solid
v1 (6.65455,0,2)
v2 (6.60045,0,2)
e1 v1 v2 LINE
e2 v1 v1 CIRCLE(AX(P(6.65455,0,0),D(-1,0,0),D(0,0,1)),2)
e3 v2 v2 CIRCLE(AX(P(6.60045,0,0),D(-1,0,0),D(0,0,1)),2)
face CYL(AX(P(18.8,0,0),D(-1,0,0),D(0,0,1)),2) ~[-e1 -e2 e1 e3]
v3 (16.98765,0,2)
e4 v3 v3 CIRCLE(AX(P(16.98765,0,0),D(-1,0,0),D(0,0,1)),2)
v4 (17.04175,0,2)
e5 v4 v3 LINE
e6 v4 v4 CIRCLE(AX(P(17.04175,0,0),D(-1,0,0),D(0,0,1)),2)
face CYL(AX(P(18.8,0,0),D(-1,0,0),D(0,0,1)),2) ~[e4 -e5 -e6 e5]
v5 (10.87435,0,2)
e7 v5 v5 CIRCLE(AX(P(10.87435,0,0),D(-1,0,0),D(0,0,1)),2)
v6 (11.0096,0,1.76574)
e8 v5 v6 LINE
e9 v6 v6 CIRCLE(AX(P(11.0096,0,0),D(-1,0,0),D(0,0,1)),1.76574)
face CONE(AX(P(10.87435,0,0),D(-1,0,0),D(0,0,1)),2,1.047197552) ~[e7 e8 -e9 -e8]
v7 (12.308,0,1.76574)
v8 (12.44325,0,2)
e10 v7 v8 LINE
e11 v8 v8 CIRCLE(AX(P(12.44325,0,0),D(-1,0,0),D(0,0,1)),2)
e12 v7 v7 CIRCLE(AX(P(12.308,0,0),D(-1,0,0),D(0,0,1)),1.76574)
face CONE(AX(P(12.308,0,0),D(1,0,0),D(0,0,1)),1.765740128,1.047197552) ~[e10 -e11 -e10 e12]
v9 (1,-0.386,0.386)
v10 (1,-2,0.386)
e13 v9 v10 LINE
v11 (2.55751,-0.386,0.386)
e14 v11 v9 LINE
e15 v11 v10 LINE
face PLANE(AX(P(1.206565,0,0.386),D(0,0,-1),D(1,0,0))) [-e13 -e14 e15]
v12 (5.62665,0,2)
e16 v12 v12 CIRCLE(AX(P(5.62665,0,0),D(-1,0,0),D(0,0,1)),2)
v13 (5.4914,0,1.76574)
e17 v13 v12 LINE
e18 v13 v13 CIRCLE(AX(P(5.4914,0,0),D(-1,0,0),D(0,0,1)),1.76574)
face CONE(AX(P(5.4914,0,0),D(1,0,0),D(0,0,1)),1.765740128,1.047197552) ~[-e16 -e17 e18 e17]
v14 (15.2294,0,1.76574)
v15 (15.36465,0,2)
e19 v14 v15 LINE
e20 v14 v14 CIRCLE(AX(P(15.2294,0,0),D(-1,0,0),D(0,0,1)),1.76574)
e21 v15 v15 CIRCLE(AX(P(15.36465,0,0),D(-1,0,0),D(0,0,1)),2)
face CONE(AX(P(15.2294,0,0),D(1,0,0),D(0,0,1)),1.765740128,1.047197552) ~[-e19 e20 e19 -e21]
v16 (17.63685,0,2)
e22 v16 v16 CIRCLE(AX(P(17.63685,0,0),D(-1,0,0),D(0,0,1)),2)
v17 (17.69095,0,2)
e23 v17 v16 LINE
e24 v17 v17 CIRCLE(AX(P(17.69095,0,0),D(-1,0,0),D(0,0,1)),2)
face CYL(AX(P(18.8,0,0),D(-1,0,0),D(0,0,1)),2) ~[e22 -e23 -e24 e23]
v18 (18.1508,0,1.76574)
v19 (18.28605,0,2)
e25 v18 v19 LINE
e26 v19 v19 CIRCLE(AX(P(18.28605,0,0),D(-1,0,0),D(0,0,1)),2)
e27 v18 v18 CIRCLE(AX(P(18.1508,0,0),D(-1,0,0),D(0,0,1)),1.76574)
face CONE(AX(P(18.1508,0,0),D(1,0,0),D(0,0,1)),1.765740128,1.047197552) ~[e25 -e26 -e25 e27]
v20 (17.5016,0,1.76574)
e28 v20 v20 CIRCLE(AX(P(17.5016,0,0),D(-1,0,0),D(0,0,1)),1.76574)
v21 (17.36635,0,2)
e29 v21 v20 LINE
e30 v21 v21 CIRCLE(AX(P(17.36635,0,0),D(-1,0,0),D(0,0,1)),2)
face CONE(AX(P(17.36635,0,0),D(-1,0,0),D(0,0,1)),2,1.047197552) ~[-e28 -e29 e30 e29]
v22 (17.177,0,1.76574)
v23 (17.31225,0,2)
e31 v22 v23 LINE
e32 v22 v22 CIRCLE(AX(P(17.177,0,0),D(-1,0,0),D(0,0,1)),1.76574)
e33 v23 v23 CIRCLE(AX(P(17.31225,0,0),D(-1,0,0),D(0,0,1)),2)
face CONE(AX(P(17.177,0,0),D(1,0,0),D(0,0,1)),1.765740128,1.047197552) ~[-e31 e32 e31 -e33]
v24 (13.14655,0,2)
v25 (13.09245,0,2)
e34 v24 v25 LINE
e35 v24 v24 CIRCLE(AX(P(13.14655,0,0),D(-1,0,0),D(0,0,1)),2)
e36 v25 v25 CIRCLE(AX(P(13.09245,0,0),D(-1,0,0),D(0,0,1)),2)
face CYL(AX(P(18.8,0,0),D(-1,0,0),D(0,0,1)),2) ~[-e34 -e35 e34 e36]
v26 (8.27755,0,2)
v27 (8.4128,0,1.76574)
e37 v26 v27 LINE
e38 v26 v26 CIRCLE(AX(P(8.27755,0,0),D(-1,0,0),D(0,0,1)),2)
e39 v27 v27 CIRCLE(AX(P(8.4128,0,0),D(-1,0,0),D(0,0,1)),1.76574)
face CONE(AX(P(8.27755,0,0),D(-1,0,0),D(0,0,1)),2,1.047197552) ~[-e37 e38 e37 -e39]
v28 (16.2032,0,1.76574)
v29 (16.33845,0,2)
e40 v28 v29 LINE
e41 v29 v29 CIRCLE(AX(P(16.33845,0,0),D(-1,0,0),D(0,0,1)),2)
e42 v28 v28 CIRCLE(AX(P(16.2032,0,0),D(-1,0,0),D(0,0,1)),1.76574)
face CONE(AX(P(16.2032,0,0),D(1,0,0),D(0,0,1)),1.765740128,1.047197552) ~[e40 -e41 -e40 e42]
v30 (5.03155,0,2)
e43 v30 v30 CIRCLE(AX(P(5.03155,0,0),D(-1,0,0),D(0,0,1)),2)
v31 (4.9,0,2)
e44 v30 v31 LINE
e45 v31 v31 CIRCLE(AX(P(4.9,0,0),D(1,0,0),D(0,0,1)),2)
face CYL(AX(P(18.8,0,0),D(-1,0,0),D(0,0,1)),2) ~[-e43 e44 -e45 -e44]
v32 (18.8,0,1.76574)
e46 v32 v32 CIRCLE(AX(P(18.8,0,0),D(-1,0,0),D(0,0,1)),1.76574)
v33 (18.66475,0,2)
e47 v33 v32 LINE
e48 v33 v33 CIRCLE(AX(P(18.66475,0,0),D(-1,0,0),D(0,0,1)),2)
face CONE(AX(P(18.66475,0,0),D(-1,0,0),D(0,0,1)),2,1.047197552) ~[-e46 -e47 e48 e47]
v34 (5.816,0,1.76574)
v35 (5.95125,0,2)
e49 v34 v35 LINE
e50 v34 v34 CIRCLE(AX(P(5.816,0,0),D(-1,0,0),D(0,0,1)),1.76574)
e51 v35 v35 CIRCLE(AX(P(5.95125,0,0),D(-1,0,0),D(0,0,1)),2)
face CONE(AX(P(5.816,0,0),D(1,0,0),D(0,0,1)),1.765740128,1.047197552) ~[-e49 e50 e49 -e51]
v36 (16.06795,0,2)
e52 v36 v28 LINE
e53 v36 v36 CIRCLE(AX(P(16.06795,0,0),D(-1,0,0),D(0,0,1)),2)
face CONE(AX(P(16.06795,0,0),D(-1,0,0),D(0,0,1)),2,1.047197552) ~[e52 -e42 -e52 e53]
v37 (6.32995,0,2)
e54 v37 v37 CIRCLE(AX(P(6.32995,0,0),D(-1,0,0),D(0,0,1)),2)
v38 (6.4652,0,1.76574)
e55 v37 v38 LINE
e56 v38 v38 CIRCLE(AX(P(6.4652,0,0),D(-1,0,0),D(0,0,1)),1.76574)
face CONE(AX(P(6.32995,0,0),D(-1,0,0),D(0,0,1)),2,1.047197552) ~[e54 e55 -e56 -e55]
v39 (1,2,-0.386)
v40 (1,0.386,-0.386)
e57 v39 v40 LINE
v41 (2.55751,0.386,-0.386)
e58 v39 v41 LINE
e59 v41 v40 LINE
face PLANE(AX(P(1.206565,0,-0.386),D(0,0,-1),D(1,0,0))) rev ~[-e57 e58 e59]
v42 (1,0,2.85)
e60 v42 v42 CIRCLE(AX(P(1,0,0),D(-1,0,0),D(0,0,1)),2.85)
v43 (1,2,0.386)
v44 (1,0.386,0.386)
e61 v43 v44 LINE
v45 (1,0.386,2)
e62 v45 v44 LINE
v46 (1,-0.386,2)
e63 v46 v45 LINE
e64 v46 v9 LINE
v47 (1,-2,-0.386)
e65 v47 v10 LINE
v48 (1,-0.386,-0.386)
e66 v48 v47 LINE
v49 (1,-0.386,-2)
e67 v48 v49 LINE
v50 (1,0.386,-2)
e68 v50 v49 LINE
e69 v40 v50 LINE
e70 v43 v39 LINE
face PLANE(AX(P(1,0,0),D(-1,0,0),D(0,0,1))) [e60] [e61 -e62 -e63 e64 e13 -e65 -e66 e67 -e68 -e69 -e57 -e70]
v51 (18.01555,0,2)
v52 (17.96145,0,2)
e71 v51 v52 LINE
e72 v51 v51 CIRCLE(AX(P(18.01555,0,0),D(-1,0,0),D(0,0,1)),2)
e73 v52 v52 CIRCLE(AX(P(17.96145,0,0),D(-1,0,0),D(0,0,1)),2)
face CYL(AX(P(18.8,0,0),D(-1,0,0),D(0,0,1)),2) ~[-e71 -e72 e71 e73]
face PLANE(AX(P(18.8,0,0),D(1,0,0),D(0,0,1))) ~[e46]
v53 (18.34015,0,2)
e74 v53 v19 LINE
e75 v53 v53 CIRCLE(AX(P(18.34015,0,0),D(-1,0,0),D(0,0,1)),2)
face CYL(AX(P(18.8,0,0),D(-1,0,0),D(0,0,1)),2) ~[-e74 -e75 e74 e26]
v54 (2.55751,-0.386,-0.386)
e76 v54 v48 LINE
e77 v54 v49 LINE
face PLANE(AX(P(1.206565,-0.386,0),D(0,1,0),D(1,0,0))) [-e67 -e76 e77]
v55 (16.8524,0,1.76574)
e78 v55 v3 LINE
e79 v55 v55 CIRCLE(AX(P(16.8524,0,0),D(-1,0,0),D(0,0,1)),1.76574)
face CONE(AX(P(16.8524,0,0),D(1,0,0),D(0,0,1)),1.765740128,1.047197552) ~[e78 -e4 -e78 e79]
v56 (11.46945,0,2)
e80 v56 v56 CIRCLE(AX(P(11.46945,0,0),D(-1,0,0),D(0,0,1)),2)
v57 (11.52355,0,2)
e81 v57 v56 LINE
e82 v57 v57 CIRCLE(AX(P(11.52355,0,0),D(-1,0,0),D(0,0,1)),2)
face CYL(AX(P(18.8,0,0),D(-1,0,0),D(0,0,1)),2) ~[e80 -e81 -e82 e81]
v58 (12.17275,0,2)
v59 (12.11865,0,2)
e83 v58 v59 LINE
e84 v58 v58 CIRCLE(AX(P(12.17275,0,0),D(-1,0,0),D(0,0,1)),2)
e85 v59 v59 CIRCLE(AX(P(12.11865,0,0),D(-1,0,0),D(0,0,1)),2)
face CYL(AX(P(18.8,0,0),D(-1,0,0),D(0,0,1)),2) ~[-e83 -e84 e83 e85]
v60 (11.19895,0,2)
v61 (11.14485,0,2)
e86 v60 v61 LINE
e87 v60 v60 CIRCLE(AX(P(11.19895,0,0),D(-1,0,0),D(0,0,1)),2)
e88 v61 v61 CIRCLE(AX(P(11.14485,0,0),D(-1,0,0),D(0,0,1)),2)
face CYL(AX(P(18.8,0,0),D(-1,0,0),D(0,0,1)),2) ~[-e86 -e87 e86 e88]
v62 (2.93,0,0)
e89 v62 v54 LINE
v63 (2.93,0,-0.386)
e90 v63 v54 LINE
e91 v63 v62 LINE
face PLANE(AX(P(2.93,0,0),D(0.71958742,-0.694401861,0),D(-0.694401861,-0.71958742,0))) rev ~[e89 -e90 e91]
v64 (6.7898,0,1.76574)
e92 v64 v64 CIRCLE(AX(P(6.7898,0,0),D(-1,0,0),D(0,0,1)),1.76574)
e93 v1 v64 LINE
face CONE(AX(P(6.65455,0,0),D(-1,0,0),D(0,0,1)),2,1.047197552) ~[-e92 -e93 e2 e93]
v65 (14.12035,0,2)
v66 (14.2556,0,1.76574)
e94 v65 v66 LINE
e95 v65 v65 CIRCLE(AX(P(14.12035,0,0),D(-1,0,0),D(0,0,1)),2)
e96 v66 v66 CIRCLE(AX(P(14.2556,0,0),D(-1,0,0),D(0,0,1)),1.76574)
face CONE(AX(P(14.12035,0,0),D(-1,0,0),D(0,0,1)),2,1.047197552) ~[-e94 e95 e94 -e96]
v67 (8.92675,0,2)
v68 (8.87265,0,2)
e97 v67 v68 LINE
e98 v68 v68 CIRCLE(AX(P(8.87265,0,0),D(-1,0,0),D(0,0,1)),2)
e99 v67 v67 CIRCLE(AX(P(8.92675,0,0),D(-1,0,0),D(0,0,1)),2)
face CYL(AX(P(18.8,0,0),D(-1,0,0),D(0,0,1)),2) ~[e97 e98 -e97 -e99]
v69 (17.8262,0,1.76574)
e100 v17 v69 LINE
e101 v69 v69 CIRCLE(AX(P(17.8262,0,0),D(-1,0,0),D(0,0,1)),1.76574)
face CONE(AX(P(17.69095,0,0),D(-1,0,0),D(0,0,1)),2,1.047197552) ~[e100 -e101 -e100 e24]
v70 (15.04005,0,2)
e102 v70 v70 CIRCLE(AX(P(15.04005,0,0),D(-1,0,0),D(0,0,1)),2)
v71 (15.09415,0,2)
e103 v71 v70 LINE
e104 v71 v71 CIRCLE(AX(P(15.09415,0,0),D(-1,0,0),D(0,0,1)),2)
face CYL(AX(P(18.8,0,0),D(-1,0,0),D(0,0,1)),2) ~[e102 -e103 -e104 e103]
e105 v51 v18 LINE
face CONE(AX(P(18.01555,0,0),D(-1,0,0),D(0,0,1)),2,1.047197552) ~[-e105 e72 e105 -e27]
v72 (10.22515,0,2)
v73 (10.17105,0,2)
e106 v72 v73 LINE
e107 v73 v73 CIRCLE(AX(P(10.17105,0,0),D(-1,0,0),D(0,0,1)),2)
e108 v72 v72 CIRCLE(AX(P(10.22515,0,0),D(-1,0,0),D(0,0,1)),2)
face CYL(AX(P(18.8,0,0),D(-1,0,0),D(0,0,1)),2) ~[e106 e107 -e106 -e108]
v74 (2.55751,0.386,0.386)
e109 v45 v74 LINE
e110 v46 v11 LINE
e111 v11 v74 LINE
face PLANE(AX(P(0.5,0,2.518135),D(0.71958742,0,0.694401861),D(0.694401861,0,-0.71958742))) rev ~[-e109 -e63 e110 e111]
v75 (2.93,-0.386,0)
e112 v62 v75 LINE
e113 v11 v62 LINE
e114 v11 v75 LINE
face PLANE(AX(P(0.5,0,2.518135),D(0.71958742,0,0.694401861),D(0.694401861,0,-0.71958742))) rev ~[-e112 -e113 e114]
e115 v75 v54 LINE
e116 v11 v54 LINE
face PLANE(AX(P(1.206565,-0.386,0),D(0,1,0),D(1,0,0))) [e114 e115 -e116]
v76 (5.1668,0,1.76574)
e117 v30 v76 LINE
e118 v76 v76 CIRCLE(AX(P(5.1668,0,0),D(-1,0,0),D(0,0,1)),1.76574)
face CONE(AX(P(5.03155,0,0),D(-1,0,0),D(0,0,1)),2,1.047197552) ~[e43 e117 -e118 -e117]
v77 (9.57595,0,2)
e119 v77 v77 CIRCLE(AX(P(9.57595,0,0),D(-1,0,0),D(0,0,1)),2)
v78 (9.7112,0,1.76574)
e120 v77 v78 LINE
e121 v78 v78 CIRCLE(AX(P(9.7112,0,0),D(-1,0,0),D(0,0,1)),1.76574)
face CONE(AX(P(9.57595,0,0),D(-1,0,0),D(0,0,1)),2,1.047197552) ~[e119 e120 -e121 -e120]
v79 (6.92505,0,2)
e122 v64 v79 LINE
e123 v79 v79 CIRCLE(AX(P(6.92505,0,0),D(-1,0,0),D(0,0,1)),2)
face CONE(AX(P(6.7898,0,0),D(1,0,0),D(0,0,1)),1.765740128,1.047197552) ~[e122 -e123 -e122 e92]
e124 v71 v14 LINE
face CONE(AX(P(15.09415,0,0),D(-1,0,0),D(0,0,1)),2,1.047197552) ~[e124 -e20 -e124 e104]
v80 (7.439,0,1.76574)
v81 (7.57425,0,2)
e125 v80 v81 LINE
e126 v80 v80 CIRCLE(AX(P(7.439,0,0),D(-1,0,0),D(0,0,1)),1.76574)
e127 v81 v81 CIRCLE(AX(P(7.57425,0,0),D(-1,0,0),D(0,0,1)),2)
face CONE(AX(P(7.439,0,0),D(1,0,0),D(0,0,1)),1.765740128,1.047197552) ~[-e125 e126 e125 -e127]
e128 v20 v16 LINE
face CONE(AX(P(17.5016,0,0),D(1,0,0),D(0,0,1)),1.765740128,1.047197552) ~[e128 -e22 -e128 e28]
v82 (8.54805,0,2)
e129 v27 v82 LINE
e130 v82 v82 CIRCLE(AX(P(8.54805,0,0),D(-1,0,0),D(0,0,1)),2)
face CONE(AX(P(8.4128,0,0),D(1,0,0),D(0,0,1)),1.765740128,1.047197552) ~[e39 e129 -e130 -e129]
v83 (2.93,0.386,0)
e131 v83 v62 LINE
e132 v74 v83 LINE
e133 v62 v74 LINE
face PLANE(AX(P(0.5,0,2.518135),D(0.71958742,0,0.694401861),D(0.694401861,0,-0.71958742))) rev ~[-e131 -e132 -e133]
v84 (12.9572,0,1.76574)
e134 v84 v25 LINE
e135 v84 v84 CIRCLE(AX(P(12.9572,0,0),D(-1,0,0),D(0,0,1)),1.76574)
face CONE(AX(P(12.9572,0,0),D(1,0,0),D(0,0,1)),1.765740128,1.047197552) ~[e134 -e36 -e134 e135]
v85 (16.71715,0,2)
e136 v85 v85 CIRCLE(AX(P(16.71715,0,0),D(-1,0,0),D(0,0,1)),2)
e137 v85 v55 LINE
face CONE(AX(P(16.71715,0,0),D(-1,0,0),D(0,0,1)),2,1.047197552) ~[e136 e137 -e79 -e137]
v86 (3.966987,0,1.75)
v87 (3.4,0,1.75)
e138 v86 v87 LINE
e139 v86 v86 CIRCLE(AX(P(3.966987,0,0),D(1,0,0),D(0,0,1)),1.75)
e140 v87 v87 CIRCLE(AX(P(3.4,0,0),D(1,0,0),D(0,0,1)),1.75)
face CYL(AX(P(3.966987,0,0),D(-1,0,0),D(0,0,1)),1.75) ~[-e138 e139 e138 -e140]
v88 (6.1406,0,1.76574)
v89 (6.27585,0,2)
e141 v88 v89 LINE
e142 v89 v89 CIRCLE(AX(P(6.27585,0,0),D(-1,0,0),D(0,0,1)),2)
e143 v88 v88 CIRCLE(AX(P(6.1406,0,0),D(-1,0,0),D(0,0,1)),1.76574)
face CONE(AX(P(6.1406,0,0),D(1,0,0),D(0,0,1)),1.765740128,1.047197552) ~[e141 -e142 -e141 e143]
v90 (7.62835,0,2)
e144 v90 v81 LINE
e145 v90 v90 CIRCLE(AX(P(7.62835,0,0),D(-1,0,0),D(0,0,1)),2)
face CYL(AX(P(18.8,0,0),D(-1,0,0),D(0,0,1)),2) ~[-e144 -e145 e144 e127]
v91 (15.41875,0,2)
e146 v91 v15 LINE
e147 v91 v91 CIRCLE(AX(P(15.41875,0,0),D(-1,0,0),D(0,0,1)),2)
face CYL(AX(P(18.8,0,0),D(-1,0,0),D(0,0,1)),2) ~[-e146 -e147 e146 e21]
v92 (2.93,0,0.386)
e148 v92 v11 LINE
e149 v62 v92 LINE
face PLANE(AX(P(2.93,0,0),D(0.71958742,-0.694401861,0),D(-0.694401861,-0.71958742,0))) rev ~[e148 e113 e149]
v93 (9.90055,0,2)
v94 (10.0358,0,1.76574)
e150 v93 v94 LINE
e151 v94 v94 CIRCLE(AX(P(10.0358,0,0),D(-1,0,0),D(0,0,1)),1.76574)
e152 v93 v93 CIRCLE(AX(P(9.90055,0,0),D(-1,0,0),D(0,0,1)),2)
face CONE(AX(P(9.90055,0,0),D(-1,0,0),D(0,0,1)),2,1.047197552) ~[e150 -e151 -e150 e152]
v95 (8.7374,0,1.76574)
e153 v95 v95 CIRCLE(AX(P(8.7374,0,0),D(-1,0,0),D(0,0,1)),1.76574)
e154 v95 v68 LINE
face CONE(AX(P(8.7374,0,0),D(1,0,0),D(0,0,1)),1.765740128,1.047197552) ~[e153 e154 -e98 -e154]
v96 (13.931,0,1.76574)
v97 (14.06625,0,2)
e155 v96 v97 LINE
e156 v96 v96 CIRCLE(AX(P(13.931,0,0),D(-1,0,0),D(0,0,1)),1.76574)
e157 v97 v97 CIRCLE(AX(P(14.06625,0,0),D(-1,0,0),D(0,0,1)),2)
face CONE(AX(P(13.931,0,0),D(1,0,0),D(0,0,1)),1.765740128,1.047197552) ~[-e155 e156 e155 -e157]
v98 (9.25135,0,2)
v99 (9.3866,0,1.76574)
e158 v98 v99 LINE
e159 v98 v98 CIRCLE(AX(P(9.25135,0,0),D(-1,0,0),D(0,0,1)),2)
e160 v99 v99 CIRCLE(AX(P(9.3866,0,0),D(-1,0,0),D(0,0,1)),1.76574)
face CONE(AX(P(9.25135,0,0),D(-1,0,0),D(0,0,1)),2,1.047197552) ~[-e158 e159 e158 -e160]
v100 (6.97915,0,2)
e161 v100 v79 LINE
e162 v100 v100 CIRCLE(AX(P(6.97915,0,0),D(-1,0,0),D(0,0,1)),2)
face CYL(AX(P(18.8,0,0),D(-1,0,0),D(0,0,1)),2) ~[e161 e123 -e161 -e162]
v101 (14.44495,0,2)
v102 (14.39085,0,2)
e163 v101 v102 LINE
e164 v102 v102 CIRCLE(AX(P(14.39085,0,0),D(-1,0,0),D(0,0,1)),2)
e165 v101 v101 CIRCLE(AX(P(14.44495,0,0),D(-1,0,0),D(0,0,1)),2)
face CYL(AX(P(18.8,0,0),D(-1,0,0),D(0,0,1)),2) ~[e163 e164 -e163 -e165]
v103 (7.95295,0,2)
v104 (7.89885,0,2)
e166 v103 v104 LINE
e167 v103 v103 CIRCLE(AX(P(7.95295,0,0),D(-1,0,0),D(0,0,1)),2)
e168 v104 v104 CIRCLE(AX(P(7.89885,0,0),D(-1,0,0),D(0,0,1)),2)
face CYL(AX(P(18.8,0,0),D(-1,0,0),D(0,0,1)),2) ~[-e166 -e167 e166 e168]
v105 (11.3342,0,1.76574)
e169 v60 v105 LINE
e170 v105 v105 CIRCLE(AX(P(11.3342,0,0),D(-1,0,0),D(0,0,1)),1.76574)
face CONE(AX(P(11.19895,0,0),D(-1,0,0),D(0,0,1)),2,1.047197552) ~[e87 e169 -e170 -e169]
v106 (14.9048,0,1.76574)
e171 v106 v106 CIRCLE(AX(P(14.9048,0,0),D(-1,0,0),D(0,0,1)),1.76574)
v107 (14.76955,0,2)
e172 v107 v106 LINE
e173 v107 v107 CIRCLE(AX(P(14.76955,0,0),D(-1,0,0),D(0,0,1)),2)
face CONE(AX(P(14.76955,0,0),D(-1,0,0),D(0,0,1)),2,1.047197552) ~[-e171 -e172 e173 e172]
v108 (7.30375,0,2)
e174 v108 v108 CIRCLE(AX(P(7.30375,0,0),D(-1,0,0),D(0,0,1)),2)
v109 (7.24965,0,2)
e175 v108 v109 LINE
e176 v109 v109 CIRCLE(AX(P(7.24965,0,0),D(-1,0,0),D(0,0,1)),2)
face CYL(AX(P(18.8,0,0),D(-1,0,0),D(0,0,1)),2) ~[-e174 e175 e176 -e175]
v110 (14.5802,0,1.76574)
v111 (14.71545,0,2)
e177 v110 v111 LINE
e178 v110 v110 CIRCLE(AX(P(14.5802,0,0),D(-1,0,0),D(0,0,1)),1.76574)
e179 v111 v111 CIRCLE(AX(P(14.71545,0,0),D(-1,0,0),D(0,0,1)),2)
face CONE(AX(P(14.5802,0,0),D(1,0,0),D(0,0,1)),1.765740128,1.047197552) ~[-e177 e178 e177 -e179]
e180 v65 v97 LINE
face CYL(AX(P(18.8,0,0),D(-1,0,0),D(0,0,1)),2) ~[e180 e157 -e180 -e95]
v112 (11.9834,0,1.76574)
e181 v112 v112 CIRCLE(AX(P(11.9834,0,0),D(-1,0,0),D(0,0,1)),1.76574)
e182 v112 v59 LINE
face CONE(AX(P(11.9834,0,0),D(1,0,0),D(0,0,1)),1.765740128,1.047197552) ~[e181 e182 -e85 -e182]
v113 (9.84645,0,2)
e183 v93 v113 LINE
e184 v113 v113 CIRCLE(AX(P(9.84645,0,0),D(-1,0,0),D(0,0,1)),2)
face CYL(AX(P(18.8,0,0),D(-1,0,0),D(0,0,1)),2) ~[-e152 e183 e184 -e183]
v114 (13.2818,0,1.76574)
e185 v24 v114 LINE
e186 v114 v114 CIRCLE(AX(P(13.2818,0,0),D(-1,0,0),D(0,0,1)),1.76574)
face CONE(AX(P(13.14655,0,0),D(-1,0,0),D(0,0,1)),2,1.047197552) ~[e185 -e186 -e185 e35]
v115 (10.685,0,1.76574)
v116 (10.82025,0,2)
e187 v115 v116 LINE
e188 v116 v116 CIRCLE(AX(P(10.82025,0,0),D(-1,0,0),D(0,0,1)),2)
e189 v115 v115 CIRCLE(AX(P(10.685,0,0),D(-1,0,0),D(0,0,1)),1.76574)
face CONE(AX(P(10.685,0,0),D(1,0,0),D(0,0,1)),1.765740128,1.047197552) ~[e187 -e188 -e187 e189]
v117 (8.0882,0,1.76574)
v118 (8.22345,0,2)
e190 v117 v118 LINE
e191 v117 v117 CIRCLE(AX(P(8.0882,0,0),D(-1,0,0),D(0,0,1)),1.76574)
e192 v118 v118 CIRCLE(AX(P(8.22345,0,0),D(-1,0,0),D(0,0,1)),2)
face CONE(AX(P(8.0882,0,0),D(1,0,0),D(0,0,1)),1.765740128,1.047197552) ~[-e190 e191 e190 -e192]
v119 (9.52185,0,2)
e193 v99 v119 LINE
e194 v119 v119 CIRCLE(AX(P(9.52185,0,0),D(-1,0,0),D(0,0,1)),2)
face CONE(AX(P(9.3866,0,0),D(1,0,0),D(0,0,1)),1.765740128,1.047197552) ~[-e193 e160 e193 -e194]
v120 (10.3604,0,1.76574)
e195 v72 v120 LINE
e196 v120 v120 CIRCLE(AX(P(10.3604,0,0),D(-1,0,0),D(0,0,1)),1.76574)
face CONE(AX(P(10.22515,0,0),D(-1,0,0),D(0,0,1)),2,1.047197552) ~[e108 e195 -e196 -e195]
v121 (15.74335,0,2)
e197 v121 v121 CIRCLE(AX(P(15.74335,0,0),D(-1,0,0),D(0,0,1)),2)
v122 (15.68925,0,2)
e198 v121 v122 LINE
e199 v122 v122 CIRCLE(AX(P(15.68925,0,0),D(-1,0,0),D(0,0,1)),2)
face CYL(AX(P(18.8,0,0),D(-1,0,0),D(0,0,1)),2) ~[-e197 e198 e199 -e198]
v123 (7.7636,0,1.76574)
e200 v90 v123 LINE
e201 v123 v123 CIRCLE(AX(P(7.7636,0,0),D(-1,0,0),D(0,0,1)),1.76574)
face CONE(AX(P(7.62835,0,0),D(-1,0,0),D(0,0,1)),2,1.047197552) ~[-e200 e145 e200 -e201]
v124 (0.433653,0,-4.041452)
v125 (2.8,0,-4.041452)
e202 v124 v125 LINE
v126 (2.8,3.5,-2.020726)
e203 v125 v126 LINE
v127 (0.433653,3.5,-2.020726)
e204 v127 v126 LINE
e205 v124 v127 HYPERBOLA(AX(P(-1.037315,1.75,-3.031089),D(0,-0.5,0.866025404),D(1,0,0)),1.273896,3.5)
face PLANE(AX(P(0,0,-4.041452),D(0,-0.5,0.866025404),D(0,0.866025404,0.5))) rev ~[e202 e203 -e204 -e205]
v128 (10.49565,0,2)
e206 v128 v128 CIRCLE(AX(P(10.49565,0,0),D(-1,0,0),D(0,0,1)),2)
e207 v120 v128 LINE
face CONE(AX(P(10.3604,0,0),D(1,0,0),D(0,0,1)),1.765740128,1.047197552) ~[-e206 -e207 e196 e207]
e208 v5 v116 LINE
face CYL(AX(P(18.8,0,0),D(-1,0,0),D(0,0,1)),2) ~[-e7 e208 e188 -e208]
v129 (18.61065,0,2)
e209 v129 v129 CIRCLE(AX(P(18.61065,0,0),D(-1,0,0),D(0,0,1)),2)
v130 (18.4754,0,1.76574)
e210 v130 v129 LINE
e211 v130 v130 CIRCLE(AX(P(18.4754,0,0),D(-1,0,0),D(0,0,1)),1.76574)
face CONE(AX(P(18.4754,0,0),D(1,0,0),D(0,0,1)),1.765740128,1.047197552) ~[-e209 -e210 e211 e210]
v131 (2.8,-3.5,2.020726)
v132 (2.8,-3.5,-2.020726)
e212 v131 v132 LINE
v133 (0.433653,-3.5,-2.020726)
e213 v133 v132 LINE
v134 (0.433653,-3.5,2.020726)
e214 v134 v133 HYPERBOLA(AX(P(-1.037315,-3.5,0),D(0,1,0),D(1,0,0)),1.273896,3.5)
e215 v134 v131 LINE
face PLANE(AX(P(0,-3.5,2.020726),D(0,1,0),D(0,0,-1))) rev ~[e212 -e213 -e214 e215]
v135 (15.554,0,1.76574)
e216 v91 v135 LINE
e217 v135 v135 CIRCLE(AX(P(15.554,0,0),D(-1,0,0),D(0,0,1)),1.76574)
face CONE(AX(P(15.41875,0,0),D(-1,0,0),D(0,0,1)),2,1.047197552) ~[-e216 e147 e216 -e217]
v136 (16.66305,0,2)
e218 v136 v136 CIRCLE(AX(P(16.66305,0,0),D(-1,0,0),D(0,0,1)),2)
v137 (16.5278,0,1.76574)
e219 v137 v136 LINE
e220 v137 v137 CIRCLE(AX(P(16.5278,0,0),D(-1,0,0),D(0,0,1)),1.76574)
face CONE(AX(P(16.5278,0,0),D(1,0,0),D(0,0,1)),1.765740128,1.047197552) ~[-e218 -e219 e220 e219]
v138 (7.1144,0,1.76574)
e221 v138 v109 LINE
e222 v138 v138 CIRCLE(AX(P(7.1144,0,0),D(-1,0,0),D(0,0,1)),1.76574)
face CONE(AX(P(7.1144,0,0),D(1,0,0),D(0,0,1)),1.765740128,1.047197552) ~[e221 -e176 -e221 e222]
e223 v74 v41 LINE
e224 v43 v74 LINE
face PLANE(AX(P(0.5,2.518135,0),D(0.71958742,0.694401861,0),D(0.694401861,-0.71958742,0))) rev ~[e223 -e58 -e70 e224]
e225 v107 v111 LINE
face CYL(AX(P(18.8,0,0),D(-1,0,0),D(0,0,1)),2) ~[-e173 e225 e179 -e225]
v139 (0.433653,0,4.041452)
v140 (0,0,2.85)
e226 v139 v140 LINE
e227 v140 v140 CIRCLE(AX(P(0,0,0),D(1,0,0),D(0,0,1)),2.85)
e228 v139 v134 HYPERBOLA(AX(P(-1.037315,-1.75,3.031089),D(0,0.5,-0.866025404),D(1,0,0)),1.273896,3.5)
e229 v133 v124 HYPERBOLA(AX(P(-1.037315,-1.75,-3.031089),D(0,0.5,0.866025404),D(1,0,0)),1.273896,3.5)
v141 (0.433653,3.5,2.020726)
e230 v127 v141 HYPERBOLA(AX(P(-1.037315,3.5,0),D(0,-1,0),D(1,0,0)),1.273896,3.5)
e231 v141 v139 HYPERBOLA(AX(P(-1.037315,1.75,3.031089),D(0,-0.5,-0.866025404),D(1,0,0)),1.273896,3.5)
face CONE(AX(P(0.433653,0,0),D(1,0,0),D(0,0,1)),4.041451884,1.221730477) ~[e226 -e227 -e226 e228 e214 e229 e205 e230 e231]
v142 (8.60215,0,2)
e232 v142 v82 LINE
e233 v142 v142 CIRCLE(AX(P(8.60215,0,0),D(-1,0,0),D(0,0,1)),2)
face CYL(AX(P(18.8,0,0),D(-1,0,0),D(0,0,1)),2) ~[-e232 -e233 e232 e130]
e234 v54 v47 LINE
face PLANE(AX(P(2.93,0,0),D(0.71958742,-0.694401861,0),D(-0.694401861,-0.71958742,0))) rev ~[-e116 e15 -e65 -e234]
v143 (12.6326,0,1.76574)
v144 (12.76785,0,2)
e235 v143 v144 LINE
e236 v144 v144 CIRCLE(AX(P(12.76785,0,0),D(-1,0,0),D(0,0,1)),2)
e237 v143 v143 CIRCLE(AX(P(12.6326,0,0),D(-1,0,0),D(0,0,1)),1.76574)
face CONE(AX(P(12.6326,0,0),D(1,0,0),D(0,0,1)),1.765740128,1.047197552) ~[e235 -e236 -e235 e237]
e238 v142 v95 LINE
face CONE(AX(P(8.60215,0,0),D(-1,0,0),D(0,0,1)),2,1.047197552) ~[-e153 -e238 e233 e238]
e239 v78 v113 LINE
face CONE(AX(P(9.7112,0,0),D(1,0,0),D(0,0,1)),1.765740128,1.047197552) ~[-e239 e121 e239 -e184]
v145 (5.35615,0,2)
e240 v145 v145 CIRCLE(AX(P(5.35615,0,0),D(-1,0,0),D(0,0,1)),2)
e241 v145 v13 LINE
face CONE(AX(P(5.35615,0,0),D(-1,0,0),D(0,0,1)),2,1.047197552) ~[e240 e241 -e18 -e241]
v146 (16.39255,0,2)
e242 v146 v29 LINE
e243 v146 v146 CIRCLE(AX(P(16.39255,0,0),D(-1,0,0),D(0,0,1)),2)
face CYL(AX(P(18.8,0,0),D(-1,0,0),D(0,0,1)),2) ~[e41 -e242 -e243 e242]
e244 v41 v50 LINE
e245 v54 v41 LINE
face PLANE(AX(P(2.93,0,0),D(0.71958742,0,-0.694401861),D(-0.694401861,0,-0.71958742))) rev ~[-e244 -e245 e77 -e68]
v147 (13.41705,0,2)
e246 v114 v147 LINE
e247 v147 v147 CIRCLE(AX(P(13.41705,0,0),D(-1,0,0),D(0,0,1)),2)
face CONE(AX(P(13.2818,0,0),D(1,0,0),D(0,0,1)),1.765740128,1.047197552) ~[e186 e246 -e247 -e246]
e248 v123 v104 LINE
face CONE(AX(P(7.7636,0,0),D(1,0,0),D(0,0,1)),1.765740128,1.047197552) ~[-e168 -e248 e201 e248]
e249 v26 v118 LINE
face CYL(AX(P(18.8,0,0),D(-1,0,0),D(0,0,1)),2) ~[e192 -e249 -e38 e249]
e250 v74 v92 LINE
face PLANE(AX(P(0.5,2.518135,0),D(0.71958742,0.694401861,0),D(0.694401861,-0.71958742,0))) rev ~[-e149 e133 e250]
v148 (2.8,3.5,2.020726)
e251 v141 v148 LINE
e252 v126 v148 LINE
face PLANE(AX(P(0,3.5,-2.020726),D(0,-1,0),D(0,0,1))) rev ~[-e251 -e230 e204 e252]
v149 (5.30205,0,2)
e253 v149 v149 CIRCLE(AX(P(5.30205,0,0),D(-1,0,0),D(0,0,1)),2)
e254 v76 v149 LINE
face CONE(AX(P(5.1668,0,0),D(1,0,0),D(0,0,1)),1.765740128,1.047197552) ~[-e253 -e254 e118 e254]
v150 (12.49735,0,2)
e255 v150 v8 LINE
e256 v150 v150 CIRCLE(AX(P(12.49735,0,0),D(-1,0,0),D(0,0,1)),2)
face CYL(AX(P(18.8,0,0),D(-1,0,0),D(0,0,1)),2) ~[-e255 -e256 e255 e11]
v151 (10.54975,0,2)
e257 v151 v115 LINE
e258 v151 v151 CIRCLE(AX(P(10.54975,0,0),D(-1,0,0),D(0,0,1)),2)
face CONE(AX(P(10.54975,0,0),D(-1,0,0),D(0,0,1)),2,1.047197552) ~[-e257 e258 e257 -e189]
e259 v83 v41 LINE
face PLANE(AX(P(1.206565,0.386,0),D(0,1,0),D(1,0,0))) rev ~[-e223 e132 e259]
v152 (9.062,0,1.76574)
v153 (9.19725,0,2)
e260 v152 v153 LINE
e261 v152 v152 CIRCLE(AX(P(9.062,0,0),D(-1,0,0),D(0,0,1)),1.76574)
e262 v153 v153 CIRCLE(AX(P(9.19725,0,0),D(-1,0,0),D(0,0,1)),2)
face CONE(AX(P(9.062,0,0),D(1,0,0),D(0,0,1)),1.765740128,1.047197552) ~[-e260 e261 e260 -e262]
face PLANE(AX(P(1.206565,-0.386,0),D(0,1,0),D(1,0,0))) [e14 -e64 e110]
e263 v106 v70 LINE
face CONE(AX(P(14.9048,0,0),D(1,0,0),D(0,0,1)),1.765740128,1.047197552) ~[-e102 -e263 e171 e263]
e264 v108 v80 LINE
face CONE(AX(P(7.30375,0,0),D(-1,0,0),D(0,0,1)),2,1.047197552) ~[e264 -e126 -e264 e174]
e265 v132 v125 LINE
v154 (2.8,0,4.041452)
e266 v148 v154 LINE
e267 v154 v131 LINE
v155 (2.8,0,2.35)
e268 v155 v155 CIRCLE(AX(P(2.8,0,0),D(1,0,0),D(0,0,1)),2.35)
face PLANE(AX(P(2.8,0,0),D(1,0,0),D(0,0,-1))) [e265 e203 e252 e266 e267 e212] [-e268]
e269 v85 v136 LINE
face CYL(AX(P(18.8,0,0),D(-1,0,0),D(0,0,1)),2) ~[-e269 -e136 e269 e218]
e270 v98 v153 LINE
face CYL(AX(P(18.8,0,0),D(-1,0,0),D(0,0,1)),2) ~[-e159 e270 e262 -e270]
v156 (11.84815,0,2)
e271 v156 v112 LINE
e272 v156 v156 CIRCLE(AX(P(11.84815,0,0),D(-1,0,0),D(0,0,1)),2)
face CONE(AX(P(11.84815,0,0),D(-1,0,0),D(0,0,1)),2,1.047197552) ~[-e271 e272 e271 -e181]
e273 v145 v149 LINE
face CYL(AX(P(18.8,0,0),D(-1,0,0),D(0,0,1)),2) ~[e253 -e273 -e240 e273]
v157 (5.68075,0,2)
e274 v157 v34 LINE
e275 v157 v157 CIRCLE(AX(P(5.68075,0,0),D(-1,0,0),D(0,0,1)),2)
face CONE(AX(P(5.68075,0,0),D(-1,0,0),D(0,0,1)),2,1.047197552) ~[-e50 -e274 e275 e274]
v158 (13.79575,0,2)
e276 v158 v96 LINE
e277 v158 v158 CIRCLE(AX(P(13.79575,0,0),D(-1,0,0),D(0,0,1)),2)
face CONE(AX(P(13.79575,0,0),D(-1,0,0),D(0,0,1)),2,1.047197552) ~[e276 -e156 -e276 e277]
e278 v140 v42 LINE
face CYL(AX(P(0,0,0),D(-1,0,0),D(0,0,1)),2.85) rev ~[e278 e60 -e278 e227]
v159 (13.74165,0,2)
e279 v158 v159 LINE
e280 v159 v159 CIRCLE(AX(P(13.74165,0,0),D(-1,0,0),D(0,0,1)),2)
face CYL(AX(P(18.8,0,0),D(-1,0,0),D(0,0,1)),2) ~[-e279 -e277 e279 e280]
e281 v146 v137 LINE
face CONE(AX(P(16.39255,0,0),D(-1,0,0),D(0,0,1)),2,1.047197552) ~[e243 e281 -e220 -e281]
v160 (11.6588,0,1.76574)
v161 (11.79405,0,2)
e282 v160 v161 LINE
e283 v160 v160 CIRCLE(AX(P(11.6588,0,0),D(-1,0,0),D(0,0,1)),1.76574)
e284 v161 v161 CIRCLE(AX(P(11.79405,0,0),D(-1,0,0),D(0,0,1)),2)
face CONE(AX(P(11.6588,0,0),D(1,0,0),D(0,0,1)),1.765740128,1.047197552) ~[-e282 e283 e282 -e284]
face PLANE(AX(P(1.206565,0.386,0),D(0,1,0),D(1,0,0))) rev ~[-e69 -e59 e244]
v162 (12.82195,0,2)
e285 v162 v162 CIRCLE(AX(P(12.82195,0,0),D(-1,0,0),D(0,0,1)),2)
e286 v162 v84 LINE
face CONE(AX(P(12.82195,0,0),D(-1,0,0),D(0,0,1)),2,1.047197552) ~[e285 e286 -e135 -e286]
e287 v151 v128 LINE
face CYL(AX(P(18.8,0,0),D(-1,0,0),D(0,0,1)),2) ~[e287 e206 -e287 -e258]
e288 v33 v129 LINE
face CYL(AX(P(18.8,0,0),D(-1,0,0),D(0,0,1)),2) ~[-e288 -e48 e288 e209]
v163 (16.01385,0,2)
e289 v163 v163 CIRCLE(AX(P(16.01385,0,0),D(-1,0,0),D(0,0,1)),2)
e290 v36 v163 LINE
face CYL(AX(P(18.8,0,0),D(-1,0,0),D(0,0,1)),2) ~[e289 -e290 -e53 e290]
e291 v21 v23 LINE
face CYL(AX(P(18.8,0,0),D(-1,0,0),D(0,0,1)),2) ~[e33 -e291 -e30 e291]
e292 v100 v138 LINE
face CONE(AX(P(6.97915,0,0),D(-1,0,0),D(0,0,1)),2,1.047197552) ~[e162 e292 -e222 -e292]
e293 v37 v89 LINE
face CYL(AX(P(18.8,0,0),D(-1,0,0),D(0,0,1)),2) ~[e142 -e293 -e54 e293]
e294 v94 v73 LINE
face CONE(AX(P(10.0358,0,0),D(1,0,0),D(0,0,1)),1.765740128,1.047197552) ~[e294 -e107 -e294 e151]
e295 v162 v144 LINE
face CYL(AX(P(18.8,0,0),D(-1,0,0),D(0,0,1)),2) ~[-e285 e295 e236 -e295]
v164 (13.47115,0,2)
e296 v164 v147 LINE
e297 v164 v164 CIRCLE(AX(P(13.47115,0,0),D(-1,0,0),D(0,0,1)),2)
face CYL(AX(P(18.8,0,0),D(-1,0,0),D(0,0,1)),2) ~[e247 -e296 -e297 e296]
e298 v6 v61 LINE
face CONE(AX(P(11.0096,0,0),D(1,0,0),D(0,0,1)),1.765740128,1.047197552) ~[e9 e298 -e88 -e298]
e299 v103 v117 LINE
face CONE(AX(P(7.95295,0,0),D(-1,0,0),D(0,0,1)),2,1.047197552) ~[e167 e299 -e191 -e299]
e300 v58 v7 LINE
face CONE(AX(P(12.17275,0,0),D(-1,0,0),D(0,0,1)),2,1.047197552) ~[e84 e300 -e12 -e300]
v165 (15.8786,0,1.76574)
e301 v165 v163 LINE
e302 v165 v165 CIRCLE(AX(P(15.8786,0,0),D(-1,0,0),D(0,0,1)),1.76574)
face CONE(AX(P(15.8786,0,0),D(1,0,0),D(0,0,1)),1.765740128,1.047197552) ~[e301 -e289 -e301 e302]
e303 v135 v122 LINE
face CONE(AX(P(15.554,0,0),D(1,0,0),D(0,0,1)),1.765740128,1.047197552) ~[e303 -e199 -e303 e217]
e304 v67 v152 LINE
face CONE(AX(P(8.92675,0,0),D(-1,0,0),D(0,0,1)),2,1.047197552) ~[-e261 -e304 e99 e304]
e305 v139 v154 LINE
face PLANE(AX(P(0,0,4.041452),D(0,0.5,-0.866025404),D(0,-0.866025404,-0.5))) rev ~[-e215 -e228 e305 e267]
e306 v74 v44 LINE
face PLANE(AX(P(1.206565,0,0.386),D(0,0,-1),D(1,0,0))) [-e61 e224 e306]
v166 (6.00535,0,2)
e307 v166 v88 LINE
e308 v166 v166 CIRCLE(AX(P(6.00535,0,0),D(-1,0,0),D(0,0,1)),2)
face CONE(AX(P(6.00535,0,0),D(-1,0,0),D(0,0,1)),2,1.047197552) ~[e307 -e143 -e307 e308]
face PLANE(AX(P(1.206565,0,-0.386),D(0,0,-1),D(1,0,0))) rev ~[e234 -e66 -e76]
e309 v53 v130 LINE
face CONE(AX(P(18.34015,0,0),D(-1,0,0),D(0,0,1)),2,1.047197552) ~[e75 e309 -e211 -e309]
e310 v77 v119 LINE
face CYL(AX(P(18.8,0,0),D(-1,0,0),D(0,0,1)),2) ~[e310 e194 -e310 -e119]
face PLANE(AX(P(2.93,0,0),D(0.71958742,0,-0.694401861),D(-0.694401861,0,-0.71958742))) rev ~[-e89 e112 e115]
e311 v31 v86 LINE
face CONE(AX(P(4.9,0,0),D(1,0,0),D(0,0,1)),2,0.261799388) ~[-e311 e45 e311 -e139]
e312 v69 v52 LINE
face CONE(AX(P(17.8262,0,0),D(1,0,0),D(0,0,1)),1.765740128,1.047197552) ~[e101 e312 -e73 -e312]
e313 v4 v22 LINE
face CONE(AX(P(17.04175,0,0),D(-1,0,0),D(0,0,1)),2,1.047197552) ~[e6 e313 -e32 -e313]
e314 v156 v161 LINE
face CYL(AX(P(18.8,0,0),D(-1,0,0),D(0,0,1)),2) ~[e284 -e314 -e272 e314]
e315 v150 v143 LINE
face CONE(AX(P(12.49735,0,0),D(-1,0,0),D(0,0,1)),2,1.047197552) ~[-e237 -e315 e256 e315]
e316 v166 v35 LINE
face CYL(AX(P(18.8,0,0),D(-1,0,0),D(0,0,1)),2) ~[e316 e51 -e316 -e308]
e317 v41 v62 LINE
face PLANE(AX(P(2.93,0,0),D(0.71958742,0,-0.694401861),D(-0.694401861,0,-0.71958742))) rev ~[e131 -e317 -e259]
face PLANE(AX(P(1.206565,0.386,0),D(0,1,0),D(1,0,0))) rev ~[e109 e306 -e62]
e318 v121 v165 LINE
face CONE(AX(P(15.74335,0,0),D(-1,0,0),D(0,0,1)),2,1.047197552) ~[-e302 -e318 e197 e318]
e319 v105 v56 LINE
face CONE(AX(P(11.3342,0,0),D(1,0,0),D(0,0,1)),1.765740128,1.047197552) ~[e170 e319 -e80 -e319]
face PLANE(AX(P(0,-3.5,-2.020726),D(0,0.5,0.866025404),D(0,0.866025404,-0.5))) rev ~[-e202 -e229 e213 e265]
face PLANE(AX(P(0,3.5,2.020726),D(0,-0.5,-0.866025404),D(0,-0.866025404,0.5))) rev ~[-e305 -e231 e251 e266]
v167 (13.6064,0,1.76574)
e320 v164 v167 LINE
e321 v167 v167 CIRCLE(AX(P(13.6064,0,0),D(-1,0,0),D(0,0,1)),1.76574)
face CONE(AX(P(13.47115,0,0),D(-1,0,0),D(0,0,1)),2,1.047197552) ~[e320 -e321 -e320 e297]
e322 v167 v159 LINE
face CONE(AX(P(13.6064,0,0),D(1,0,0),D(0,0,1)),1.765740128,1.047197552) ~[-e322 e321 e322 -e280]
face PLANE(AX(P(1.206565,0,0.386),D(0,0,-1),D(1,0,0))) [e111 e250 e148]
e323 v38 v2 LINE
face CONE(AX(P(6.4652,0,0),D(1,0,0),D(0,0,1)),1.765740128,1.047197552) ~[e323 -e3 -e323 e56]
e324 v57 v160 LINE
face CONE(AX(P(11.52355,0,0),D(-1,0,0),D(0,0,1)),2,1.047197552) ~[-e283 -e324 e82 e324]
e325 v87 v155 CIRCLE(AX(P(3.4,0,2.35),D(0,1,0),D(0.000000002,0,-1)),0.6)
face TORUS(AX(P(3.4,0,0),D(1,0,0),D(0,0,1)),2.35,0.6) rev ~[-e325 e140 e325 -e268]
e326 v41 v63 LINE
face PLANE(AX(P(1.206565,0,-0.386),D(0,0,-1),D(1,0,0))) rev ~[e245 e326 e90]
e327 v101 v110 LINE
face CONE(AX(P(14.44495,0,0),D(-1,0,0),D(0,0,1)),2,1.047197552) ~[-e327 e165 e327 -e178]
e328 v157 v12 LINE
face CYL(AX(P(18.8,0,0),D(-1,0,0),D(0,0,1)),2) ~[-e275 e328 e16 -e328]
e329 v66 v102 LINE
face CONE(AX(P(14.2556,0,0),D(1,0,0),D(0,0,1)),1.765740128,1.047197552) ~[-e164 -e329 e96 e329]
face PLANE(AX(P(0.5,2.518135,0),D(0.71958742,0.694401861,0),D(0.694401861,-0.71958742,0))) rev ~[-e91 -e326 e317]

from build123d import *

# Parameters (mm, degrees)
BASEHEAD_DEPTH     = 2.8
SKETCH6_R          = 2.85
CUT_EXTRUDE1_DEPTH = 1
CUT_EXTRUDE2_DEPTH = 0.386
CIRPATTERN2_COUNT  = 2
CIRPATTERN2_ANGLE  = 90
LPATTERN10_COUNT   = 43
LPATTERN10_PITCH   = 0.3246


with BuildPart() as part:
    # Sketch2 → BaseHead (new body)
    with BuildSketch(Plane(origin=(0, 0, 0), x_dir=(0, 0, -1), z_dir=(1, 0, 0))):
        Polygon((2.020725942, -3.5), (4.041451884, 0), (2.020725942, 3.5), (-2.020725942, 3.5), (-4.041451884, 0), (-2.020725942, -3.5), align=None)
    extrude(amount=BASEHEAD_DEPTH)

    # Sketch10 → Revolve1 (revolve)
    with BuildSketch(Plane(origin=(0, 0, 0), x_dir=(1, 0, 0), z_dir=(0, 1, 0)), mode=Mode.PRIVATE) as revolve1_sk:
        with BuildLine():
            Line((2.8, 2.35), (2.8, 0))
            Line((2.8, 0), (18.8, 0))
            Line((18.8, 0), (18.8, 2))
            Line((18.8, 2), (4.9, 2))
            Line((4.9, 2), (3.966987298, 1.75))
            Line((3.966987298, 1.75), (3.4, 1.75))
            ThreePointArc((3.4, 1.75), (2.975735931, 1.925735931), (2.8, 2.35))
        make_face()
    revolve(revolve1_sk.sketch.rotate(Axis((0, 0, 0), (1, 0, 0)), 180), axis=Axis((0, 0, 0), (1, 0, 0)))

    # Sketch5 → HeadChamfer (revolve, cut)
    with BuildSketch(Plane(origin=(0, 0, 0), x_dir=(1, 0, 0), z_dir=(0, 1, 0)), mode=Mode.PRIVATE) as headchamfer_sk:
        Polygon((0, 4.041451884), (0.433653021, 4.041451884), (0, 2.85), align=None)
    revolve(headchamfer_sk.sketch.rotate(Axis((-0.358389262, 0, 0), (1, 0, 0)), 180), axis=Axis((-0.358389262, 0, 0), (1, 0, 0)), mode=Mode.SUBTRACT)

    # Sketch6 → Cut-Extrude1 (cut)
    with BuildSketch(Plane.ZY):
        Circle(SKETCH6_R)
    extrude(amount=-CUT_EXTRUDE1_DEPTH, mode=Mode.SUBTRACT)

    # Sketch7 → Cut-Extrude2 (cut, symmetric)
    with BuildSketch(Plane(origin=(0, 0, 0), x_dir=(1, 0, 0), z_dir=(0, 1, 0))):
        Polygon((2.93, 0), (0.5, 2.518134715), (0.5, -2.518134715), align=None)
    cut_extrude2 = extrude(amount=CUT_EXTRUDE2_DEPTH, both=True, mode=Mode.SUBTRACT)

    # CirPattern2: Cut-Extrude2 ×2 about axis
    cirpattern2_axis = Axis((0, 0, 0), (-1, 0, 0))
    for i in range(1, CIRPATTERN2_COUNT):
        add(cut_extrude2.rotate(cirpattern2_axis, i * CIRPATTERN2_ANGLE / (CIRPATTERN2_COUNT - 1)), mode=Mode.SUBTRACT)

    # Sketch8 → Cut-Revolve10 (revolve, cut)
    with BuildSketch(Plane.XY, mode=Mode.PRIVATE) as cut_revolve10_sk:
        Polygon((18.8, 1.765740128), (18.93525, 2), (18.93525, 2.2705), (18.66475, 2.2705), (18.66475, 2), align=None)
    cut_revolve10 = revolve(cut_revolve10_sk.sketch.rotate(Axis((14.8, 0, 0), (-1, 0, 0)), 270), axis=Axis((14.8, 0, 0), (-1, 0, 0)), mode=Mode.SUBTRACT)

    # LPattern10: Cut-Revolve10 ×43
    with Locations(*[(-i * LPATTERN10_PITCH, 0, 0) for i in range(1, LPATTERN10_COUNT)]):
        add(cut_revolve10, mode=Mode.SUBTRACT)


solid = part.part
